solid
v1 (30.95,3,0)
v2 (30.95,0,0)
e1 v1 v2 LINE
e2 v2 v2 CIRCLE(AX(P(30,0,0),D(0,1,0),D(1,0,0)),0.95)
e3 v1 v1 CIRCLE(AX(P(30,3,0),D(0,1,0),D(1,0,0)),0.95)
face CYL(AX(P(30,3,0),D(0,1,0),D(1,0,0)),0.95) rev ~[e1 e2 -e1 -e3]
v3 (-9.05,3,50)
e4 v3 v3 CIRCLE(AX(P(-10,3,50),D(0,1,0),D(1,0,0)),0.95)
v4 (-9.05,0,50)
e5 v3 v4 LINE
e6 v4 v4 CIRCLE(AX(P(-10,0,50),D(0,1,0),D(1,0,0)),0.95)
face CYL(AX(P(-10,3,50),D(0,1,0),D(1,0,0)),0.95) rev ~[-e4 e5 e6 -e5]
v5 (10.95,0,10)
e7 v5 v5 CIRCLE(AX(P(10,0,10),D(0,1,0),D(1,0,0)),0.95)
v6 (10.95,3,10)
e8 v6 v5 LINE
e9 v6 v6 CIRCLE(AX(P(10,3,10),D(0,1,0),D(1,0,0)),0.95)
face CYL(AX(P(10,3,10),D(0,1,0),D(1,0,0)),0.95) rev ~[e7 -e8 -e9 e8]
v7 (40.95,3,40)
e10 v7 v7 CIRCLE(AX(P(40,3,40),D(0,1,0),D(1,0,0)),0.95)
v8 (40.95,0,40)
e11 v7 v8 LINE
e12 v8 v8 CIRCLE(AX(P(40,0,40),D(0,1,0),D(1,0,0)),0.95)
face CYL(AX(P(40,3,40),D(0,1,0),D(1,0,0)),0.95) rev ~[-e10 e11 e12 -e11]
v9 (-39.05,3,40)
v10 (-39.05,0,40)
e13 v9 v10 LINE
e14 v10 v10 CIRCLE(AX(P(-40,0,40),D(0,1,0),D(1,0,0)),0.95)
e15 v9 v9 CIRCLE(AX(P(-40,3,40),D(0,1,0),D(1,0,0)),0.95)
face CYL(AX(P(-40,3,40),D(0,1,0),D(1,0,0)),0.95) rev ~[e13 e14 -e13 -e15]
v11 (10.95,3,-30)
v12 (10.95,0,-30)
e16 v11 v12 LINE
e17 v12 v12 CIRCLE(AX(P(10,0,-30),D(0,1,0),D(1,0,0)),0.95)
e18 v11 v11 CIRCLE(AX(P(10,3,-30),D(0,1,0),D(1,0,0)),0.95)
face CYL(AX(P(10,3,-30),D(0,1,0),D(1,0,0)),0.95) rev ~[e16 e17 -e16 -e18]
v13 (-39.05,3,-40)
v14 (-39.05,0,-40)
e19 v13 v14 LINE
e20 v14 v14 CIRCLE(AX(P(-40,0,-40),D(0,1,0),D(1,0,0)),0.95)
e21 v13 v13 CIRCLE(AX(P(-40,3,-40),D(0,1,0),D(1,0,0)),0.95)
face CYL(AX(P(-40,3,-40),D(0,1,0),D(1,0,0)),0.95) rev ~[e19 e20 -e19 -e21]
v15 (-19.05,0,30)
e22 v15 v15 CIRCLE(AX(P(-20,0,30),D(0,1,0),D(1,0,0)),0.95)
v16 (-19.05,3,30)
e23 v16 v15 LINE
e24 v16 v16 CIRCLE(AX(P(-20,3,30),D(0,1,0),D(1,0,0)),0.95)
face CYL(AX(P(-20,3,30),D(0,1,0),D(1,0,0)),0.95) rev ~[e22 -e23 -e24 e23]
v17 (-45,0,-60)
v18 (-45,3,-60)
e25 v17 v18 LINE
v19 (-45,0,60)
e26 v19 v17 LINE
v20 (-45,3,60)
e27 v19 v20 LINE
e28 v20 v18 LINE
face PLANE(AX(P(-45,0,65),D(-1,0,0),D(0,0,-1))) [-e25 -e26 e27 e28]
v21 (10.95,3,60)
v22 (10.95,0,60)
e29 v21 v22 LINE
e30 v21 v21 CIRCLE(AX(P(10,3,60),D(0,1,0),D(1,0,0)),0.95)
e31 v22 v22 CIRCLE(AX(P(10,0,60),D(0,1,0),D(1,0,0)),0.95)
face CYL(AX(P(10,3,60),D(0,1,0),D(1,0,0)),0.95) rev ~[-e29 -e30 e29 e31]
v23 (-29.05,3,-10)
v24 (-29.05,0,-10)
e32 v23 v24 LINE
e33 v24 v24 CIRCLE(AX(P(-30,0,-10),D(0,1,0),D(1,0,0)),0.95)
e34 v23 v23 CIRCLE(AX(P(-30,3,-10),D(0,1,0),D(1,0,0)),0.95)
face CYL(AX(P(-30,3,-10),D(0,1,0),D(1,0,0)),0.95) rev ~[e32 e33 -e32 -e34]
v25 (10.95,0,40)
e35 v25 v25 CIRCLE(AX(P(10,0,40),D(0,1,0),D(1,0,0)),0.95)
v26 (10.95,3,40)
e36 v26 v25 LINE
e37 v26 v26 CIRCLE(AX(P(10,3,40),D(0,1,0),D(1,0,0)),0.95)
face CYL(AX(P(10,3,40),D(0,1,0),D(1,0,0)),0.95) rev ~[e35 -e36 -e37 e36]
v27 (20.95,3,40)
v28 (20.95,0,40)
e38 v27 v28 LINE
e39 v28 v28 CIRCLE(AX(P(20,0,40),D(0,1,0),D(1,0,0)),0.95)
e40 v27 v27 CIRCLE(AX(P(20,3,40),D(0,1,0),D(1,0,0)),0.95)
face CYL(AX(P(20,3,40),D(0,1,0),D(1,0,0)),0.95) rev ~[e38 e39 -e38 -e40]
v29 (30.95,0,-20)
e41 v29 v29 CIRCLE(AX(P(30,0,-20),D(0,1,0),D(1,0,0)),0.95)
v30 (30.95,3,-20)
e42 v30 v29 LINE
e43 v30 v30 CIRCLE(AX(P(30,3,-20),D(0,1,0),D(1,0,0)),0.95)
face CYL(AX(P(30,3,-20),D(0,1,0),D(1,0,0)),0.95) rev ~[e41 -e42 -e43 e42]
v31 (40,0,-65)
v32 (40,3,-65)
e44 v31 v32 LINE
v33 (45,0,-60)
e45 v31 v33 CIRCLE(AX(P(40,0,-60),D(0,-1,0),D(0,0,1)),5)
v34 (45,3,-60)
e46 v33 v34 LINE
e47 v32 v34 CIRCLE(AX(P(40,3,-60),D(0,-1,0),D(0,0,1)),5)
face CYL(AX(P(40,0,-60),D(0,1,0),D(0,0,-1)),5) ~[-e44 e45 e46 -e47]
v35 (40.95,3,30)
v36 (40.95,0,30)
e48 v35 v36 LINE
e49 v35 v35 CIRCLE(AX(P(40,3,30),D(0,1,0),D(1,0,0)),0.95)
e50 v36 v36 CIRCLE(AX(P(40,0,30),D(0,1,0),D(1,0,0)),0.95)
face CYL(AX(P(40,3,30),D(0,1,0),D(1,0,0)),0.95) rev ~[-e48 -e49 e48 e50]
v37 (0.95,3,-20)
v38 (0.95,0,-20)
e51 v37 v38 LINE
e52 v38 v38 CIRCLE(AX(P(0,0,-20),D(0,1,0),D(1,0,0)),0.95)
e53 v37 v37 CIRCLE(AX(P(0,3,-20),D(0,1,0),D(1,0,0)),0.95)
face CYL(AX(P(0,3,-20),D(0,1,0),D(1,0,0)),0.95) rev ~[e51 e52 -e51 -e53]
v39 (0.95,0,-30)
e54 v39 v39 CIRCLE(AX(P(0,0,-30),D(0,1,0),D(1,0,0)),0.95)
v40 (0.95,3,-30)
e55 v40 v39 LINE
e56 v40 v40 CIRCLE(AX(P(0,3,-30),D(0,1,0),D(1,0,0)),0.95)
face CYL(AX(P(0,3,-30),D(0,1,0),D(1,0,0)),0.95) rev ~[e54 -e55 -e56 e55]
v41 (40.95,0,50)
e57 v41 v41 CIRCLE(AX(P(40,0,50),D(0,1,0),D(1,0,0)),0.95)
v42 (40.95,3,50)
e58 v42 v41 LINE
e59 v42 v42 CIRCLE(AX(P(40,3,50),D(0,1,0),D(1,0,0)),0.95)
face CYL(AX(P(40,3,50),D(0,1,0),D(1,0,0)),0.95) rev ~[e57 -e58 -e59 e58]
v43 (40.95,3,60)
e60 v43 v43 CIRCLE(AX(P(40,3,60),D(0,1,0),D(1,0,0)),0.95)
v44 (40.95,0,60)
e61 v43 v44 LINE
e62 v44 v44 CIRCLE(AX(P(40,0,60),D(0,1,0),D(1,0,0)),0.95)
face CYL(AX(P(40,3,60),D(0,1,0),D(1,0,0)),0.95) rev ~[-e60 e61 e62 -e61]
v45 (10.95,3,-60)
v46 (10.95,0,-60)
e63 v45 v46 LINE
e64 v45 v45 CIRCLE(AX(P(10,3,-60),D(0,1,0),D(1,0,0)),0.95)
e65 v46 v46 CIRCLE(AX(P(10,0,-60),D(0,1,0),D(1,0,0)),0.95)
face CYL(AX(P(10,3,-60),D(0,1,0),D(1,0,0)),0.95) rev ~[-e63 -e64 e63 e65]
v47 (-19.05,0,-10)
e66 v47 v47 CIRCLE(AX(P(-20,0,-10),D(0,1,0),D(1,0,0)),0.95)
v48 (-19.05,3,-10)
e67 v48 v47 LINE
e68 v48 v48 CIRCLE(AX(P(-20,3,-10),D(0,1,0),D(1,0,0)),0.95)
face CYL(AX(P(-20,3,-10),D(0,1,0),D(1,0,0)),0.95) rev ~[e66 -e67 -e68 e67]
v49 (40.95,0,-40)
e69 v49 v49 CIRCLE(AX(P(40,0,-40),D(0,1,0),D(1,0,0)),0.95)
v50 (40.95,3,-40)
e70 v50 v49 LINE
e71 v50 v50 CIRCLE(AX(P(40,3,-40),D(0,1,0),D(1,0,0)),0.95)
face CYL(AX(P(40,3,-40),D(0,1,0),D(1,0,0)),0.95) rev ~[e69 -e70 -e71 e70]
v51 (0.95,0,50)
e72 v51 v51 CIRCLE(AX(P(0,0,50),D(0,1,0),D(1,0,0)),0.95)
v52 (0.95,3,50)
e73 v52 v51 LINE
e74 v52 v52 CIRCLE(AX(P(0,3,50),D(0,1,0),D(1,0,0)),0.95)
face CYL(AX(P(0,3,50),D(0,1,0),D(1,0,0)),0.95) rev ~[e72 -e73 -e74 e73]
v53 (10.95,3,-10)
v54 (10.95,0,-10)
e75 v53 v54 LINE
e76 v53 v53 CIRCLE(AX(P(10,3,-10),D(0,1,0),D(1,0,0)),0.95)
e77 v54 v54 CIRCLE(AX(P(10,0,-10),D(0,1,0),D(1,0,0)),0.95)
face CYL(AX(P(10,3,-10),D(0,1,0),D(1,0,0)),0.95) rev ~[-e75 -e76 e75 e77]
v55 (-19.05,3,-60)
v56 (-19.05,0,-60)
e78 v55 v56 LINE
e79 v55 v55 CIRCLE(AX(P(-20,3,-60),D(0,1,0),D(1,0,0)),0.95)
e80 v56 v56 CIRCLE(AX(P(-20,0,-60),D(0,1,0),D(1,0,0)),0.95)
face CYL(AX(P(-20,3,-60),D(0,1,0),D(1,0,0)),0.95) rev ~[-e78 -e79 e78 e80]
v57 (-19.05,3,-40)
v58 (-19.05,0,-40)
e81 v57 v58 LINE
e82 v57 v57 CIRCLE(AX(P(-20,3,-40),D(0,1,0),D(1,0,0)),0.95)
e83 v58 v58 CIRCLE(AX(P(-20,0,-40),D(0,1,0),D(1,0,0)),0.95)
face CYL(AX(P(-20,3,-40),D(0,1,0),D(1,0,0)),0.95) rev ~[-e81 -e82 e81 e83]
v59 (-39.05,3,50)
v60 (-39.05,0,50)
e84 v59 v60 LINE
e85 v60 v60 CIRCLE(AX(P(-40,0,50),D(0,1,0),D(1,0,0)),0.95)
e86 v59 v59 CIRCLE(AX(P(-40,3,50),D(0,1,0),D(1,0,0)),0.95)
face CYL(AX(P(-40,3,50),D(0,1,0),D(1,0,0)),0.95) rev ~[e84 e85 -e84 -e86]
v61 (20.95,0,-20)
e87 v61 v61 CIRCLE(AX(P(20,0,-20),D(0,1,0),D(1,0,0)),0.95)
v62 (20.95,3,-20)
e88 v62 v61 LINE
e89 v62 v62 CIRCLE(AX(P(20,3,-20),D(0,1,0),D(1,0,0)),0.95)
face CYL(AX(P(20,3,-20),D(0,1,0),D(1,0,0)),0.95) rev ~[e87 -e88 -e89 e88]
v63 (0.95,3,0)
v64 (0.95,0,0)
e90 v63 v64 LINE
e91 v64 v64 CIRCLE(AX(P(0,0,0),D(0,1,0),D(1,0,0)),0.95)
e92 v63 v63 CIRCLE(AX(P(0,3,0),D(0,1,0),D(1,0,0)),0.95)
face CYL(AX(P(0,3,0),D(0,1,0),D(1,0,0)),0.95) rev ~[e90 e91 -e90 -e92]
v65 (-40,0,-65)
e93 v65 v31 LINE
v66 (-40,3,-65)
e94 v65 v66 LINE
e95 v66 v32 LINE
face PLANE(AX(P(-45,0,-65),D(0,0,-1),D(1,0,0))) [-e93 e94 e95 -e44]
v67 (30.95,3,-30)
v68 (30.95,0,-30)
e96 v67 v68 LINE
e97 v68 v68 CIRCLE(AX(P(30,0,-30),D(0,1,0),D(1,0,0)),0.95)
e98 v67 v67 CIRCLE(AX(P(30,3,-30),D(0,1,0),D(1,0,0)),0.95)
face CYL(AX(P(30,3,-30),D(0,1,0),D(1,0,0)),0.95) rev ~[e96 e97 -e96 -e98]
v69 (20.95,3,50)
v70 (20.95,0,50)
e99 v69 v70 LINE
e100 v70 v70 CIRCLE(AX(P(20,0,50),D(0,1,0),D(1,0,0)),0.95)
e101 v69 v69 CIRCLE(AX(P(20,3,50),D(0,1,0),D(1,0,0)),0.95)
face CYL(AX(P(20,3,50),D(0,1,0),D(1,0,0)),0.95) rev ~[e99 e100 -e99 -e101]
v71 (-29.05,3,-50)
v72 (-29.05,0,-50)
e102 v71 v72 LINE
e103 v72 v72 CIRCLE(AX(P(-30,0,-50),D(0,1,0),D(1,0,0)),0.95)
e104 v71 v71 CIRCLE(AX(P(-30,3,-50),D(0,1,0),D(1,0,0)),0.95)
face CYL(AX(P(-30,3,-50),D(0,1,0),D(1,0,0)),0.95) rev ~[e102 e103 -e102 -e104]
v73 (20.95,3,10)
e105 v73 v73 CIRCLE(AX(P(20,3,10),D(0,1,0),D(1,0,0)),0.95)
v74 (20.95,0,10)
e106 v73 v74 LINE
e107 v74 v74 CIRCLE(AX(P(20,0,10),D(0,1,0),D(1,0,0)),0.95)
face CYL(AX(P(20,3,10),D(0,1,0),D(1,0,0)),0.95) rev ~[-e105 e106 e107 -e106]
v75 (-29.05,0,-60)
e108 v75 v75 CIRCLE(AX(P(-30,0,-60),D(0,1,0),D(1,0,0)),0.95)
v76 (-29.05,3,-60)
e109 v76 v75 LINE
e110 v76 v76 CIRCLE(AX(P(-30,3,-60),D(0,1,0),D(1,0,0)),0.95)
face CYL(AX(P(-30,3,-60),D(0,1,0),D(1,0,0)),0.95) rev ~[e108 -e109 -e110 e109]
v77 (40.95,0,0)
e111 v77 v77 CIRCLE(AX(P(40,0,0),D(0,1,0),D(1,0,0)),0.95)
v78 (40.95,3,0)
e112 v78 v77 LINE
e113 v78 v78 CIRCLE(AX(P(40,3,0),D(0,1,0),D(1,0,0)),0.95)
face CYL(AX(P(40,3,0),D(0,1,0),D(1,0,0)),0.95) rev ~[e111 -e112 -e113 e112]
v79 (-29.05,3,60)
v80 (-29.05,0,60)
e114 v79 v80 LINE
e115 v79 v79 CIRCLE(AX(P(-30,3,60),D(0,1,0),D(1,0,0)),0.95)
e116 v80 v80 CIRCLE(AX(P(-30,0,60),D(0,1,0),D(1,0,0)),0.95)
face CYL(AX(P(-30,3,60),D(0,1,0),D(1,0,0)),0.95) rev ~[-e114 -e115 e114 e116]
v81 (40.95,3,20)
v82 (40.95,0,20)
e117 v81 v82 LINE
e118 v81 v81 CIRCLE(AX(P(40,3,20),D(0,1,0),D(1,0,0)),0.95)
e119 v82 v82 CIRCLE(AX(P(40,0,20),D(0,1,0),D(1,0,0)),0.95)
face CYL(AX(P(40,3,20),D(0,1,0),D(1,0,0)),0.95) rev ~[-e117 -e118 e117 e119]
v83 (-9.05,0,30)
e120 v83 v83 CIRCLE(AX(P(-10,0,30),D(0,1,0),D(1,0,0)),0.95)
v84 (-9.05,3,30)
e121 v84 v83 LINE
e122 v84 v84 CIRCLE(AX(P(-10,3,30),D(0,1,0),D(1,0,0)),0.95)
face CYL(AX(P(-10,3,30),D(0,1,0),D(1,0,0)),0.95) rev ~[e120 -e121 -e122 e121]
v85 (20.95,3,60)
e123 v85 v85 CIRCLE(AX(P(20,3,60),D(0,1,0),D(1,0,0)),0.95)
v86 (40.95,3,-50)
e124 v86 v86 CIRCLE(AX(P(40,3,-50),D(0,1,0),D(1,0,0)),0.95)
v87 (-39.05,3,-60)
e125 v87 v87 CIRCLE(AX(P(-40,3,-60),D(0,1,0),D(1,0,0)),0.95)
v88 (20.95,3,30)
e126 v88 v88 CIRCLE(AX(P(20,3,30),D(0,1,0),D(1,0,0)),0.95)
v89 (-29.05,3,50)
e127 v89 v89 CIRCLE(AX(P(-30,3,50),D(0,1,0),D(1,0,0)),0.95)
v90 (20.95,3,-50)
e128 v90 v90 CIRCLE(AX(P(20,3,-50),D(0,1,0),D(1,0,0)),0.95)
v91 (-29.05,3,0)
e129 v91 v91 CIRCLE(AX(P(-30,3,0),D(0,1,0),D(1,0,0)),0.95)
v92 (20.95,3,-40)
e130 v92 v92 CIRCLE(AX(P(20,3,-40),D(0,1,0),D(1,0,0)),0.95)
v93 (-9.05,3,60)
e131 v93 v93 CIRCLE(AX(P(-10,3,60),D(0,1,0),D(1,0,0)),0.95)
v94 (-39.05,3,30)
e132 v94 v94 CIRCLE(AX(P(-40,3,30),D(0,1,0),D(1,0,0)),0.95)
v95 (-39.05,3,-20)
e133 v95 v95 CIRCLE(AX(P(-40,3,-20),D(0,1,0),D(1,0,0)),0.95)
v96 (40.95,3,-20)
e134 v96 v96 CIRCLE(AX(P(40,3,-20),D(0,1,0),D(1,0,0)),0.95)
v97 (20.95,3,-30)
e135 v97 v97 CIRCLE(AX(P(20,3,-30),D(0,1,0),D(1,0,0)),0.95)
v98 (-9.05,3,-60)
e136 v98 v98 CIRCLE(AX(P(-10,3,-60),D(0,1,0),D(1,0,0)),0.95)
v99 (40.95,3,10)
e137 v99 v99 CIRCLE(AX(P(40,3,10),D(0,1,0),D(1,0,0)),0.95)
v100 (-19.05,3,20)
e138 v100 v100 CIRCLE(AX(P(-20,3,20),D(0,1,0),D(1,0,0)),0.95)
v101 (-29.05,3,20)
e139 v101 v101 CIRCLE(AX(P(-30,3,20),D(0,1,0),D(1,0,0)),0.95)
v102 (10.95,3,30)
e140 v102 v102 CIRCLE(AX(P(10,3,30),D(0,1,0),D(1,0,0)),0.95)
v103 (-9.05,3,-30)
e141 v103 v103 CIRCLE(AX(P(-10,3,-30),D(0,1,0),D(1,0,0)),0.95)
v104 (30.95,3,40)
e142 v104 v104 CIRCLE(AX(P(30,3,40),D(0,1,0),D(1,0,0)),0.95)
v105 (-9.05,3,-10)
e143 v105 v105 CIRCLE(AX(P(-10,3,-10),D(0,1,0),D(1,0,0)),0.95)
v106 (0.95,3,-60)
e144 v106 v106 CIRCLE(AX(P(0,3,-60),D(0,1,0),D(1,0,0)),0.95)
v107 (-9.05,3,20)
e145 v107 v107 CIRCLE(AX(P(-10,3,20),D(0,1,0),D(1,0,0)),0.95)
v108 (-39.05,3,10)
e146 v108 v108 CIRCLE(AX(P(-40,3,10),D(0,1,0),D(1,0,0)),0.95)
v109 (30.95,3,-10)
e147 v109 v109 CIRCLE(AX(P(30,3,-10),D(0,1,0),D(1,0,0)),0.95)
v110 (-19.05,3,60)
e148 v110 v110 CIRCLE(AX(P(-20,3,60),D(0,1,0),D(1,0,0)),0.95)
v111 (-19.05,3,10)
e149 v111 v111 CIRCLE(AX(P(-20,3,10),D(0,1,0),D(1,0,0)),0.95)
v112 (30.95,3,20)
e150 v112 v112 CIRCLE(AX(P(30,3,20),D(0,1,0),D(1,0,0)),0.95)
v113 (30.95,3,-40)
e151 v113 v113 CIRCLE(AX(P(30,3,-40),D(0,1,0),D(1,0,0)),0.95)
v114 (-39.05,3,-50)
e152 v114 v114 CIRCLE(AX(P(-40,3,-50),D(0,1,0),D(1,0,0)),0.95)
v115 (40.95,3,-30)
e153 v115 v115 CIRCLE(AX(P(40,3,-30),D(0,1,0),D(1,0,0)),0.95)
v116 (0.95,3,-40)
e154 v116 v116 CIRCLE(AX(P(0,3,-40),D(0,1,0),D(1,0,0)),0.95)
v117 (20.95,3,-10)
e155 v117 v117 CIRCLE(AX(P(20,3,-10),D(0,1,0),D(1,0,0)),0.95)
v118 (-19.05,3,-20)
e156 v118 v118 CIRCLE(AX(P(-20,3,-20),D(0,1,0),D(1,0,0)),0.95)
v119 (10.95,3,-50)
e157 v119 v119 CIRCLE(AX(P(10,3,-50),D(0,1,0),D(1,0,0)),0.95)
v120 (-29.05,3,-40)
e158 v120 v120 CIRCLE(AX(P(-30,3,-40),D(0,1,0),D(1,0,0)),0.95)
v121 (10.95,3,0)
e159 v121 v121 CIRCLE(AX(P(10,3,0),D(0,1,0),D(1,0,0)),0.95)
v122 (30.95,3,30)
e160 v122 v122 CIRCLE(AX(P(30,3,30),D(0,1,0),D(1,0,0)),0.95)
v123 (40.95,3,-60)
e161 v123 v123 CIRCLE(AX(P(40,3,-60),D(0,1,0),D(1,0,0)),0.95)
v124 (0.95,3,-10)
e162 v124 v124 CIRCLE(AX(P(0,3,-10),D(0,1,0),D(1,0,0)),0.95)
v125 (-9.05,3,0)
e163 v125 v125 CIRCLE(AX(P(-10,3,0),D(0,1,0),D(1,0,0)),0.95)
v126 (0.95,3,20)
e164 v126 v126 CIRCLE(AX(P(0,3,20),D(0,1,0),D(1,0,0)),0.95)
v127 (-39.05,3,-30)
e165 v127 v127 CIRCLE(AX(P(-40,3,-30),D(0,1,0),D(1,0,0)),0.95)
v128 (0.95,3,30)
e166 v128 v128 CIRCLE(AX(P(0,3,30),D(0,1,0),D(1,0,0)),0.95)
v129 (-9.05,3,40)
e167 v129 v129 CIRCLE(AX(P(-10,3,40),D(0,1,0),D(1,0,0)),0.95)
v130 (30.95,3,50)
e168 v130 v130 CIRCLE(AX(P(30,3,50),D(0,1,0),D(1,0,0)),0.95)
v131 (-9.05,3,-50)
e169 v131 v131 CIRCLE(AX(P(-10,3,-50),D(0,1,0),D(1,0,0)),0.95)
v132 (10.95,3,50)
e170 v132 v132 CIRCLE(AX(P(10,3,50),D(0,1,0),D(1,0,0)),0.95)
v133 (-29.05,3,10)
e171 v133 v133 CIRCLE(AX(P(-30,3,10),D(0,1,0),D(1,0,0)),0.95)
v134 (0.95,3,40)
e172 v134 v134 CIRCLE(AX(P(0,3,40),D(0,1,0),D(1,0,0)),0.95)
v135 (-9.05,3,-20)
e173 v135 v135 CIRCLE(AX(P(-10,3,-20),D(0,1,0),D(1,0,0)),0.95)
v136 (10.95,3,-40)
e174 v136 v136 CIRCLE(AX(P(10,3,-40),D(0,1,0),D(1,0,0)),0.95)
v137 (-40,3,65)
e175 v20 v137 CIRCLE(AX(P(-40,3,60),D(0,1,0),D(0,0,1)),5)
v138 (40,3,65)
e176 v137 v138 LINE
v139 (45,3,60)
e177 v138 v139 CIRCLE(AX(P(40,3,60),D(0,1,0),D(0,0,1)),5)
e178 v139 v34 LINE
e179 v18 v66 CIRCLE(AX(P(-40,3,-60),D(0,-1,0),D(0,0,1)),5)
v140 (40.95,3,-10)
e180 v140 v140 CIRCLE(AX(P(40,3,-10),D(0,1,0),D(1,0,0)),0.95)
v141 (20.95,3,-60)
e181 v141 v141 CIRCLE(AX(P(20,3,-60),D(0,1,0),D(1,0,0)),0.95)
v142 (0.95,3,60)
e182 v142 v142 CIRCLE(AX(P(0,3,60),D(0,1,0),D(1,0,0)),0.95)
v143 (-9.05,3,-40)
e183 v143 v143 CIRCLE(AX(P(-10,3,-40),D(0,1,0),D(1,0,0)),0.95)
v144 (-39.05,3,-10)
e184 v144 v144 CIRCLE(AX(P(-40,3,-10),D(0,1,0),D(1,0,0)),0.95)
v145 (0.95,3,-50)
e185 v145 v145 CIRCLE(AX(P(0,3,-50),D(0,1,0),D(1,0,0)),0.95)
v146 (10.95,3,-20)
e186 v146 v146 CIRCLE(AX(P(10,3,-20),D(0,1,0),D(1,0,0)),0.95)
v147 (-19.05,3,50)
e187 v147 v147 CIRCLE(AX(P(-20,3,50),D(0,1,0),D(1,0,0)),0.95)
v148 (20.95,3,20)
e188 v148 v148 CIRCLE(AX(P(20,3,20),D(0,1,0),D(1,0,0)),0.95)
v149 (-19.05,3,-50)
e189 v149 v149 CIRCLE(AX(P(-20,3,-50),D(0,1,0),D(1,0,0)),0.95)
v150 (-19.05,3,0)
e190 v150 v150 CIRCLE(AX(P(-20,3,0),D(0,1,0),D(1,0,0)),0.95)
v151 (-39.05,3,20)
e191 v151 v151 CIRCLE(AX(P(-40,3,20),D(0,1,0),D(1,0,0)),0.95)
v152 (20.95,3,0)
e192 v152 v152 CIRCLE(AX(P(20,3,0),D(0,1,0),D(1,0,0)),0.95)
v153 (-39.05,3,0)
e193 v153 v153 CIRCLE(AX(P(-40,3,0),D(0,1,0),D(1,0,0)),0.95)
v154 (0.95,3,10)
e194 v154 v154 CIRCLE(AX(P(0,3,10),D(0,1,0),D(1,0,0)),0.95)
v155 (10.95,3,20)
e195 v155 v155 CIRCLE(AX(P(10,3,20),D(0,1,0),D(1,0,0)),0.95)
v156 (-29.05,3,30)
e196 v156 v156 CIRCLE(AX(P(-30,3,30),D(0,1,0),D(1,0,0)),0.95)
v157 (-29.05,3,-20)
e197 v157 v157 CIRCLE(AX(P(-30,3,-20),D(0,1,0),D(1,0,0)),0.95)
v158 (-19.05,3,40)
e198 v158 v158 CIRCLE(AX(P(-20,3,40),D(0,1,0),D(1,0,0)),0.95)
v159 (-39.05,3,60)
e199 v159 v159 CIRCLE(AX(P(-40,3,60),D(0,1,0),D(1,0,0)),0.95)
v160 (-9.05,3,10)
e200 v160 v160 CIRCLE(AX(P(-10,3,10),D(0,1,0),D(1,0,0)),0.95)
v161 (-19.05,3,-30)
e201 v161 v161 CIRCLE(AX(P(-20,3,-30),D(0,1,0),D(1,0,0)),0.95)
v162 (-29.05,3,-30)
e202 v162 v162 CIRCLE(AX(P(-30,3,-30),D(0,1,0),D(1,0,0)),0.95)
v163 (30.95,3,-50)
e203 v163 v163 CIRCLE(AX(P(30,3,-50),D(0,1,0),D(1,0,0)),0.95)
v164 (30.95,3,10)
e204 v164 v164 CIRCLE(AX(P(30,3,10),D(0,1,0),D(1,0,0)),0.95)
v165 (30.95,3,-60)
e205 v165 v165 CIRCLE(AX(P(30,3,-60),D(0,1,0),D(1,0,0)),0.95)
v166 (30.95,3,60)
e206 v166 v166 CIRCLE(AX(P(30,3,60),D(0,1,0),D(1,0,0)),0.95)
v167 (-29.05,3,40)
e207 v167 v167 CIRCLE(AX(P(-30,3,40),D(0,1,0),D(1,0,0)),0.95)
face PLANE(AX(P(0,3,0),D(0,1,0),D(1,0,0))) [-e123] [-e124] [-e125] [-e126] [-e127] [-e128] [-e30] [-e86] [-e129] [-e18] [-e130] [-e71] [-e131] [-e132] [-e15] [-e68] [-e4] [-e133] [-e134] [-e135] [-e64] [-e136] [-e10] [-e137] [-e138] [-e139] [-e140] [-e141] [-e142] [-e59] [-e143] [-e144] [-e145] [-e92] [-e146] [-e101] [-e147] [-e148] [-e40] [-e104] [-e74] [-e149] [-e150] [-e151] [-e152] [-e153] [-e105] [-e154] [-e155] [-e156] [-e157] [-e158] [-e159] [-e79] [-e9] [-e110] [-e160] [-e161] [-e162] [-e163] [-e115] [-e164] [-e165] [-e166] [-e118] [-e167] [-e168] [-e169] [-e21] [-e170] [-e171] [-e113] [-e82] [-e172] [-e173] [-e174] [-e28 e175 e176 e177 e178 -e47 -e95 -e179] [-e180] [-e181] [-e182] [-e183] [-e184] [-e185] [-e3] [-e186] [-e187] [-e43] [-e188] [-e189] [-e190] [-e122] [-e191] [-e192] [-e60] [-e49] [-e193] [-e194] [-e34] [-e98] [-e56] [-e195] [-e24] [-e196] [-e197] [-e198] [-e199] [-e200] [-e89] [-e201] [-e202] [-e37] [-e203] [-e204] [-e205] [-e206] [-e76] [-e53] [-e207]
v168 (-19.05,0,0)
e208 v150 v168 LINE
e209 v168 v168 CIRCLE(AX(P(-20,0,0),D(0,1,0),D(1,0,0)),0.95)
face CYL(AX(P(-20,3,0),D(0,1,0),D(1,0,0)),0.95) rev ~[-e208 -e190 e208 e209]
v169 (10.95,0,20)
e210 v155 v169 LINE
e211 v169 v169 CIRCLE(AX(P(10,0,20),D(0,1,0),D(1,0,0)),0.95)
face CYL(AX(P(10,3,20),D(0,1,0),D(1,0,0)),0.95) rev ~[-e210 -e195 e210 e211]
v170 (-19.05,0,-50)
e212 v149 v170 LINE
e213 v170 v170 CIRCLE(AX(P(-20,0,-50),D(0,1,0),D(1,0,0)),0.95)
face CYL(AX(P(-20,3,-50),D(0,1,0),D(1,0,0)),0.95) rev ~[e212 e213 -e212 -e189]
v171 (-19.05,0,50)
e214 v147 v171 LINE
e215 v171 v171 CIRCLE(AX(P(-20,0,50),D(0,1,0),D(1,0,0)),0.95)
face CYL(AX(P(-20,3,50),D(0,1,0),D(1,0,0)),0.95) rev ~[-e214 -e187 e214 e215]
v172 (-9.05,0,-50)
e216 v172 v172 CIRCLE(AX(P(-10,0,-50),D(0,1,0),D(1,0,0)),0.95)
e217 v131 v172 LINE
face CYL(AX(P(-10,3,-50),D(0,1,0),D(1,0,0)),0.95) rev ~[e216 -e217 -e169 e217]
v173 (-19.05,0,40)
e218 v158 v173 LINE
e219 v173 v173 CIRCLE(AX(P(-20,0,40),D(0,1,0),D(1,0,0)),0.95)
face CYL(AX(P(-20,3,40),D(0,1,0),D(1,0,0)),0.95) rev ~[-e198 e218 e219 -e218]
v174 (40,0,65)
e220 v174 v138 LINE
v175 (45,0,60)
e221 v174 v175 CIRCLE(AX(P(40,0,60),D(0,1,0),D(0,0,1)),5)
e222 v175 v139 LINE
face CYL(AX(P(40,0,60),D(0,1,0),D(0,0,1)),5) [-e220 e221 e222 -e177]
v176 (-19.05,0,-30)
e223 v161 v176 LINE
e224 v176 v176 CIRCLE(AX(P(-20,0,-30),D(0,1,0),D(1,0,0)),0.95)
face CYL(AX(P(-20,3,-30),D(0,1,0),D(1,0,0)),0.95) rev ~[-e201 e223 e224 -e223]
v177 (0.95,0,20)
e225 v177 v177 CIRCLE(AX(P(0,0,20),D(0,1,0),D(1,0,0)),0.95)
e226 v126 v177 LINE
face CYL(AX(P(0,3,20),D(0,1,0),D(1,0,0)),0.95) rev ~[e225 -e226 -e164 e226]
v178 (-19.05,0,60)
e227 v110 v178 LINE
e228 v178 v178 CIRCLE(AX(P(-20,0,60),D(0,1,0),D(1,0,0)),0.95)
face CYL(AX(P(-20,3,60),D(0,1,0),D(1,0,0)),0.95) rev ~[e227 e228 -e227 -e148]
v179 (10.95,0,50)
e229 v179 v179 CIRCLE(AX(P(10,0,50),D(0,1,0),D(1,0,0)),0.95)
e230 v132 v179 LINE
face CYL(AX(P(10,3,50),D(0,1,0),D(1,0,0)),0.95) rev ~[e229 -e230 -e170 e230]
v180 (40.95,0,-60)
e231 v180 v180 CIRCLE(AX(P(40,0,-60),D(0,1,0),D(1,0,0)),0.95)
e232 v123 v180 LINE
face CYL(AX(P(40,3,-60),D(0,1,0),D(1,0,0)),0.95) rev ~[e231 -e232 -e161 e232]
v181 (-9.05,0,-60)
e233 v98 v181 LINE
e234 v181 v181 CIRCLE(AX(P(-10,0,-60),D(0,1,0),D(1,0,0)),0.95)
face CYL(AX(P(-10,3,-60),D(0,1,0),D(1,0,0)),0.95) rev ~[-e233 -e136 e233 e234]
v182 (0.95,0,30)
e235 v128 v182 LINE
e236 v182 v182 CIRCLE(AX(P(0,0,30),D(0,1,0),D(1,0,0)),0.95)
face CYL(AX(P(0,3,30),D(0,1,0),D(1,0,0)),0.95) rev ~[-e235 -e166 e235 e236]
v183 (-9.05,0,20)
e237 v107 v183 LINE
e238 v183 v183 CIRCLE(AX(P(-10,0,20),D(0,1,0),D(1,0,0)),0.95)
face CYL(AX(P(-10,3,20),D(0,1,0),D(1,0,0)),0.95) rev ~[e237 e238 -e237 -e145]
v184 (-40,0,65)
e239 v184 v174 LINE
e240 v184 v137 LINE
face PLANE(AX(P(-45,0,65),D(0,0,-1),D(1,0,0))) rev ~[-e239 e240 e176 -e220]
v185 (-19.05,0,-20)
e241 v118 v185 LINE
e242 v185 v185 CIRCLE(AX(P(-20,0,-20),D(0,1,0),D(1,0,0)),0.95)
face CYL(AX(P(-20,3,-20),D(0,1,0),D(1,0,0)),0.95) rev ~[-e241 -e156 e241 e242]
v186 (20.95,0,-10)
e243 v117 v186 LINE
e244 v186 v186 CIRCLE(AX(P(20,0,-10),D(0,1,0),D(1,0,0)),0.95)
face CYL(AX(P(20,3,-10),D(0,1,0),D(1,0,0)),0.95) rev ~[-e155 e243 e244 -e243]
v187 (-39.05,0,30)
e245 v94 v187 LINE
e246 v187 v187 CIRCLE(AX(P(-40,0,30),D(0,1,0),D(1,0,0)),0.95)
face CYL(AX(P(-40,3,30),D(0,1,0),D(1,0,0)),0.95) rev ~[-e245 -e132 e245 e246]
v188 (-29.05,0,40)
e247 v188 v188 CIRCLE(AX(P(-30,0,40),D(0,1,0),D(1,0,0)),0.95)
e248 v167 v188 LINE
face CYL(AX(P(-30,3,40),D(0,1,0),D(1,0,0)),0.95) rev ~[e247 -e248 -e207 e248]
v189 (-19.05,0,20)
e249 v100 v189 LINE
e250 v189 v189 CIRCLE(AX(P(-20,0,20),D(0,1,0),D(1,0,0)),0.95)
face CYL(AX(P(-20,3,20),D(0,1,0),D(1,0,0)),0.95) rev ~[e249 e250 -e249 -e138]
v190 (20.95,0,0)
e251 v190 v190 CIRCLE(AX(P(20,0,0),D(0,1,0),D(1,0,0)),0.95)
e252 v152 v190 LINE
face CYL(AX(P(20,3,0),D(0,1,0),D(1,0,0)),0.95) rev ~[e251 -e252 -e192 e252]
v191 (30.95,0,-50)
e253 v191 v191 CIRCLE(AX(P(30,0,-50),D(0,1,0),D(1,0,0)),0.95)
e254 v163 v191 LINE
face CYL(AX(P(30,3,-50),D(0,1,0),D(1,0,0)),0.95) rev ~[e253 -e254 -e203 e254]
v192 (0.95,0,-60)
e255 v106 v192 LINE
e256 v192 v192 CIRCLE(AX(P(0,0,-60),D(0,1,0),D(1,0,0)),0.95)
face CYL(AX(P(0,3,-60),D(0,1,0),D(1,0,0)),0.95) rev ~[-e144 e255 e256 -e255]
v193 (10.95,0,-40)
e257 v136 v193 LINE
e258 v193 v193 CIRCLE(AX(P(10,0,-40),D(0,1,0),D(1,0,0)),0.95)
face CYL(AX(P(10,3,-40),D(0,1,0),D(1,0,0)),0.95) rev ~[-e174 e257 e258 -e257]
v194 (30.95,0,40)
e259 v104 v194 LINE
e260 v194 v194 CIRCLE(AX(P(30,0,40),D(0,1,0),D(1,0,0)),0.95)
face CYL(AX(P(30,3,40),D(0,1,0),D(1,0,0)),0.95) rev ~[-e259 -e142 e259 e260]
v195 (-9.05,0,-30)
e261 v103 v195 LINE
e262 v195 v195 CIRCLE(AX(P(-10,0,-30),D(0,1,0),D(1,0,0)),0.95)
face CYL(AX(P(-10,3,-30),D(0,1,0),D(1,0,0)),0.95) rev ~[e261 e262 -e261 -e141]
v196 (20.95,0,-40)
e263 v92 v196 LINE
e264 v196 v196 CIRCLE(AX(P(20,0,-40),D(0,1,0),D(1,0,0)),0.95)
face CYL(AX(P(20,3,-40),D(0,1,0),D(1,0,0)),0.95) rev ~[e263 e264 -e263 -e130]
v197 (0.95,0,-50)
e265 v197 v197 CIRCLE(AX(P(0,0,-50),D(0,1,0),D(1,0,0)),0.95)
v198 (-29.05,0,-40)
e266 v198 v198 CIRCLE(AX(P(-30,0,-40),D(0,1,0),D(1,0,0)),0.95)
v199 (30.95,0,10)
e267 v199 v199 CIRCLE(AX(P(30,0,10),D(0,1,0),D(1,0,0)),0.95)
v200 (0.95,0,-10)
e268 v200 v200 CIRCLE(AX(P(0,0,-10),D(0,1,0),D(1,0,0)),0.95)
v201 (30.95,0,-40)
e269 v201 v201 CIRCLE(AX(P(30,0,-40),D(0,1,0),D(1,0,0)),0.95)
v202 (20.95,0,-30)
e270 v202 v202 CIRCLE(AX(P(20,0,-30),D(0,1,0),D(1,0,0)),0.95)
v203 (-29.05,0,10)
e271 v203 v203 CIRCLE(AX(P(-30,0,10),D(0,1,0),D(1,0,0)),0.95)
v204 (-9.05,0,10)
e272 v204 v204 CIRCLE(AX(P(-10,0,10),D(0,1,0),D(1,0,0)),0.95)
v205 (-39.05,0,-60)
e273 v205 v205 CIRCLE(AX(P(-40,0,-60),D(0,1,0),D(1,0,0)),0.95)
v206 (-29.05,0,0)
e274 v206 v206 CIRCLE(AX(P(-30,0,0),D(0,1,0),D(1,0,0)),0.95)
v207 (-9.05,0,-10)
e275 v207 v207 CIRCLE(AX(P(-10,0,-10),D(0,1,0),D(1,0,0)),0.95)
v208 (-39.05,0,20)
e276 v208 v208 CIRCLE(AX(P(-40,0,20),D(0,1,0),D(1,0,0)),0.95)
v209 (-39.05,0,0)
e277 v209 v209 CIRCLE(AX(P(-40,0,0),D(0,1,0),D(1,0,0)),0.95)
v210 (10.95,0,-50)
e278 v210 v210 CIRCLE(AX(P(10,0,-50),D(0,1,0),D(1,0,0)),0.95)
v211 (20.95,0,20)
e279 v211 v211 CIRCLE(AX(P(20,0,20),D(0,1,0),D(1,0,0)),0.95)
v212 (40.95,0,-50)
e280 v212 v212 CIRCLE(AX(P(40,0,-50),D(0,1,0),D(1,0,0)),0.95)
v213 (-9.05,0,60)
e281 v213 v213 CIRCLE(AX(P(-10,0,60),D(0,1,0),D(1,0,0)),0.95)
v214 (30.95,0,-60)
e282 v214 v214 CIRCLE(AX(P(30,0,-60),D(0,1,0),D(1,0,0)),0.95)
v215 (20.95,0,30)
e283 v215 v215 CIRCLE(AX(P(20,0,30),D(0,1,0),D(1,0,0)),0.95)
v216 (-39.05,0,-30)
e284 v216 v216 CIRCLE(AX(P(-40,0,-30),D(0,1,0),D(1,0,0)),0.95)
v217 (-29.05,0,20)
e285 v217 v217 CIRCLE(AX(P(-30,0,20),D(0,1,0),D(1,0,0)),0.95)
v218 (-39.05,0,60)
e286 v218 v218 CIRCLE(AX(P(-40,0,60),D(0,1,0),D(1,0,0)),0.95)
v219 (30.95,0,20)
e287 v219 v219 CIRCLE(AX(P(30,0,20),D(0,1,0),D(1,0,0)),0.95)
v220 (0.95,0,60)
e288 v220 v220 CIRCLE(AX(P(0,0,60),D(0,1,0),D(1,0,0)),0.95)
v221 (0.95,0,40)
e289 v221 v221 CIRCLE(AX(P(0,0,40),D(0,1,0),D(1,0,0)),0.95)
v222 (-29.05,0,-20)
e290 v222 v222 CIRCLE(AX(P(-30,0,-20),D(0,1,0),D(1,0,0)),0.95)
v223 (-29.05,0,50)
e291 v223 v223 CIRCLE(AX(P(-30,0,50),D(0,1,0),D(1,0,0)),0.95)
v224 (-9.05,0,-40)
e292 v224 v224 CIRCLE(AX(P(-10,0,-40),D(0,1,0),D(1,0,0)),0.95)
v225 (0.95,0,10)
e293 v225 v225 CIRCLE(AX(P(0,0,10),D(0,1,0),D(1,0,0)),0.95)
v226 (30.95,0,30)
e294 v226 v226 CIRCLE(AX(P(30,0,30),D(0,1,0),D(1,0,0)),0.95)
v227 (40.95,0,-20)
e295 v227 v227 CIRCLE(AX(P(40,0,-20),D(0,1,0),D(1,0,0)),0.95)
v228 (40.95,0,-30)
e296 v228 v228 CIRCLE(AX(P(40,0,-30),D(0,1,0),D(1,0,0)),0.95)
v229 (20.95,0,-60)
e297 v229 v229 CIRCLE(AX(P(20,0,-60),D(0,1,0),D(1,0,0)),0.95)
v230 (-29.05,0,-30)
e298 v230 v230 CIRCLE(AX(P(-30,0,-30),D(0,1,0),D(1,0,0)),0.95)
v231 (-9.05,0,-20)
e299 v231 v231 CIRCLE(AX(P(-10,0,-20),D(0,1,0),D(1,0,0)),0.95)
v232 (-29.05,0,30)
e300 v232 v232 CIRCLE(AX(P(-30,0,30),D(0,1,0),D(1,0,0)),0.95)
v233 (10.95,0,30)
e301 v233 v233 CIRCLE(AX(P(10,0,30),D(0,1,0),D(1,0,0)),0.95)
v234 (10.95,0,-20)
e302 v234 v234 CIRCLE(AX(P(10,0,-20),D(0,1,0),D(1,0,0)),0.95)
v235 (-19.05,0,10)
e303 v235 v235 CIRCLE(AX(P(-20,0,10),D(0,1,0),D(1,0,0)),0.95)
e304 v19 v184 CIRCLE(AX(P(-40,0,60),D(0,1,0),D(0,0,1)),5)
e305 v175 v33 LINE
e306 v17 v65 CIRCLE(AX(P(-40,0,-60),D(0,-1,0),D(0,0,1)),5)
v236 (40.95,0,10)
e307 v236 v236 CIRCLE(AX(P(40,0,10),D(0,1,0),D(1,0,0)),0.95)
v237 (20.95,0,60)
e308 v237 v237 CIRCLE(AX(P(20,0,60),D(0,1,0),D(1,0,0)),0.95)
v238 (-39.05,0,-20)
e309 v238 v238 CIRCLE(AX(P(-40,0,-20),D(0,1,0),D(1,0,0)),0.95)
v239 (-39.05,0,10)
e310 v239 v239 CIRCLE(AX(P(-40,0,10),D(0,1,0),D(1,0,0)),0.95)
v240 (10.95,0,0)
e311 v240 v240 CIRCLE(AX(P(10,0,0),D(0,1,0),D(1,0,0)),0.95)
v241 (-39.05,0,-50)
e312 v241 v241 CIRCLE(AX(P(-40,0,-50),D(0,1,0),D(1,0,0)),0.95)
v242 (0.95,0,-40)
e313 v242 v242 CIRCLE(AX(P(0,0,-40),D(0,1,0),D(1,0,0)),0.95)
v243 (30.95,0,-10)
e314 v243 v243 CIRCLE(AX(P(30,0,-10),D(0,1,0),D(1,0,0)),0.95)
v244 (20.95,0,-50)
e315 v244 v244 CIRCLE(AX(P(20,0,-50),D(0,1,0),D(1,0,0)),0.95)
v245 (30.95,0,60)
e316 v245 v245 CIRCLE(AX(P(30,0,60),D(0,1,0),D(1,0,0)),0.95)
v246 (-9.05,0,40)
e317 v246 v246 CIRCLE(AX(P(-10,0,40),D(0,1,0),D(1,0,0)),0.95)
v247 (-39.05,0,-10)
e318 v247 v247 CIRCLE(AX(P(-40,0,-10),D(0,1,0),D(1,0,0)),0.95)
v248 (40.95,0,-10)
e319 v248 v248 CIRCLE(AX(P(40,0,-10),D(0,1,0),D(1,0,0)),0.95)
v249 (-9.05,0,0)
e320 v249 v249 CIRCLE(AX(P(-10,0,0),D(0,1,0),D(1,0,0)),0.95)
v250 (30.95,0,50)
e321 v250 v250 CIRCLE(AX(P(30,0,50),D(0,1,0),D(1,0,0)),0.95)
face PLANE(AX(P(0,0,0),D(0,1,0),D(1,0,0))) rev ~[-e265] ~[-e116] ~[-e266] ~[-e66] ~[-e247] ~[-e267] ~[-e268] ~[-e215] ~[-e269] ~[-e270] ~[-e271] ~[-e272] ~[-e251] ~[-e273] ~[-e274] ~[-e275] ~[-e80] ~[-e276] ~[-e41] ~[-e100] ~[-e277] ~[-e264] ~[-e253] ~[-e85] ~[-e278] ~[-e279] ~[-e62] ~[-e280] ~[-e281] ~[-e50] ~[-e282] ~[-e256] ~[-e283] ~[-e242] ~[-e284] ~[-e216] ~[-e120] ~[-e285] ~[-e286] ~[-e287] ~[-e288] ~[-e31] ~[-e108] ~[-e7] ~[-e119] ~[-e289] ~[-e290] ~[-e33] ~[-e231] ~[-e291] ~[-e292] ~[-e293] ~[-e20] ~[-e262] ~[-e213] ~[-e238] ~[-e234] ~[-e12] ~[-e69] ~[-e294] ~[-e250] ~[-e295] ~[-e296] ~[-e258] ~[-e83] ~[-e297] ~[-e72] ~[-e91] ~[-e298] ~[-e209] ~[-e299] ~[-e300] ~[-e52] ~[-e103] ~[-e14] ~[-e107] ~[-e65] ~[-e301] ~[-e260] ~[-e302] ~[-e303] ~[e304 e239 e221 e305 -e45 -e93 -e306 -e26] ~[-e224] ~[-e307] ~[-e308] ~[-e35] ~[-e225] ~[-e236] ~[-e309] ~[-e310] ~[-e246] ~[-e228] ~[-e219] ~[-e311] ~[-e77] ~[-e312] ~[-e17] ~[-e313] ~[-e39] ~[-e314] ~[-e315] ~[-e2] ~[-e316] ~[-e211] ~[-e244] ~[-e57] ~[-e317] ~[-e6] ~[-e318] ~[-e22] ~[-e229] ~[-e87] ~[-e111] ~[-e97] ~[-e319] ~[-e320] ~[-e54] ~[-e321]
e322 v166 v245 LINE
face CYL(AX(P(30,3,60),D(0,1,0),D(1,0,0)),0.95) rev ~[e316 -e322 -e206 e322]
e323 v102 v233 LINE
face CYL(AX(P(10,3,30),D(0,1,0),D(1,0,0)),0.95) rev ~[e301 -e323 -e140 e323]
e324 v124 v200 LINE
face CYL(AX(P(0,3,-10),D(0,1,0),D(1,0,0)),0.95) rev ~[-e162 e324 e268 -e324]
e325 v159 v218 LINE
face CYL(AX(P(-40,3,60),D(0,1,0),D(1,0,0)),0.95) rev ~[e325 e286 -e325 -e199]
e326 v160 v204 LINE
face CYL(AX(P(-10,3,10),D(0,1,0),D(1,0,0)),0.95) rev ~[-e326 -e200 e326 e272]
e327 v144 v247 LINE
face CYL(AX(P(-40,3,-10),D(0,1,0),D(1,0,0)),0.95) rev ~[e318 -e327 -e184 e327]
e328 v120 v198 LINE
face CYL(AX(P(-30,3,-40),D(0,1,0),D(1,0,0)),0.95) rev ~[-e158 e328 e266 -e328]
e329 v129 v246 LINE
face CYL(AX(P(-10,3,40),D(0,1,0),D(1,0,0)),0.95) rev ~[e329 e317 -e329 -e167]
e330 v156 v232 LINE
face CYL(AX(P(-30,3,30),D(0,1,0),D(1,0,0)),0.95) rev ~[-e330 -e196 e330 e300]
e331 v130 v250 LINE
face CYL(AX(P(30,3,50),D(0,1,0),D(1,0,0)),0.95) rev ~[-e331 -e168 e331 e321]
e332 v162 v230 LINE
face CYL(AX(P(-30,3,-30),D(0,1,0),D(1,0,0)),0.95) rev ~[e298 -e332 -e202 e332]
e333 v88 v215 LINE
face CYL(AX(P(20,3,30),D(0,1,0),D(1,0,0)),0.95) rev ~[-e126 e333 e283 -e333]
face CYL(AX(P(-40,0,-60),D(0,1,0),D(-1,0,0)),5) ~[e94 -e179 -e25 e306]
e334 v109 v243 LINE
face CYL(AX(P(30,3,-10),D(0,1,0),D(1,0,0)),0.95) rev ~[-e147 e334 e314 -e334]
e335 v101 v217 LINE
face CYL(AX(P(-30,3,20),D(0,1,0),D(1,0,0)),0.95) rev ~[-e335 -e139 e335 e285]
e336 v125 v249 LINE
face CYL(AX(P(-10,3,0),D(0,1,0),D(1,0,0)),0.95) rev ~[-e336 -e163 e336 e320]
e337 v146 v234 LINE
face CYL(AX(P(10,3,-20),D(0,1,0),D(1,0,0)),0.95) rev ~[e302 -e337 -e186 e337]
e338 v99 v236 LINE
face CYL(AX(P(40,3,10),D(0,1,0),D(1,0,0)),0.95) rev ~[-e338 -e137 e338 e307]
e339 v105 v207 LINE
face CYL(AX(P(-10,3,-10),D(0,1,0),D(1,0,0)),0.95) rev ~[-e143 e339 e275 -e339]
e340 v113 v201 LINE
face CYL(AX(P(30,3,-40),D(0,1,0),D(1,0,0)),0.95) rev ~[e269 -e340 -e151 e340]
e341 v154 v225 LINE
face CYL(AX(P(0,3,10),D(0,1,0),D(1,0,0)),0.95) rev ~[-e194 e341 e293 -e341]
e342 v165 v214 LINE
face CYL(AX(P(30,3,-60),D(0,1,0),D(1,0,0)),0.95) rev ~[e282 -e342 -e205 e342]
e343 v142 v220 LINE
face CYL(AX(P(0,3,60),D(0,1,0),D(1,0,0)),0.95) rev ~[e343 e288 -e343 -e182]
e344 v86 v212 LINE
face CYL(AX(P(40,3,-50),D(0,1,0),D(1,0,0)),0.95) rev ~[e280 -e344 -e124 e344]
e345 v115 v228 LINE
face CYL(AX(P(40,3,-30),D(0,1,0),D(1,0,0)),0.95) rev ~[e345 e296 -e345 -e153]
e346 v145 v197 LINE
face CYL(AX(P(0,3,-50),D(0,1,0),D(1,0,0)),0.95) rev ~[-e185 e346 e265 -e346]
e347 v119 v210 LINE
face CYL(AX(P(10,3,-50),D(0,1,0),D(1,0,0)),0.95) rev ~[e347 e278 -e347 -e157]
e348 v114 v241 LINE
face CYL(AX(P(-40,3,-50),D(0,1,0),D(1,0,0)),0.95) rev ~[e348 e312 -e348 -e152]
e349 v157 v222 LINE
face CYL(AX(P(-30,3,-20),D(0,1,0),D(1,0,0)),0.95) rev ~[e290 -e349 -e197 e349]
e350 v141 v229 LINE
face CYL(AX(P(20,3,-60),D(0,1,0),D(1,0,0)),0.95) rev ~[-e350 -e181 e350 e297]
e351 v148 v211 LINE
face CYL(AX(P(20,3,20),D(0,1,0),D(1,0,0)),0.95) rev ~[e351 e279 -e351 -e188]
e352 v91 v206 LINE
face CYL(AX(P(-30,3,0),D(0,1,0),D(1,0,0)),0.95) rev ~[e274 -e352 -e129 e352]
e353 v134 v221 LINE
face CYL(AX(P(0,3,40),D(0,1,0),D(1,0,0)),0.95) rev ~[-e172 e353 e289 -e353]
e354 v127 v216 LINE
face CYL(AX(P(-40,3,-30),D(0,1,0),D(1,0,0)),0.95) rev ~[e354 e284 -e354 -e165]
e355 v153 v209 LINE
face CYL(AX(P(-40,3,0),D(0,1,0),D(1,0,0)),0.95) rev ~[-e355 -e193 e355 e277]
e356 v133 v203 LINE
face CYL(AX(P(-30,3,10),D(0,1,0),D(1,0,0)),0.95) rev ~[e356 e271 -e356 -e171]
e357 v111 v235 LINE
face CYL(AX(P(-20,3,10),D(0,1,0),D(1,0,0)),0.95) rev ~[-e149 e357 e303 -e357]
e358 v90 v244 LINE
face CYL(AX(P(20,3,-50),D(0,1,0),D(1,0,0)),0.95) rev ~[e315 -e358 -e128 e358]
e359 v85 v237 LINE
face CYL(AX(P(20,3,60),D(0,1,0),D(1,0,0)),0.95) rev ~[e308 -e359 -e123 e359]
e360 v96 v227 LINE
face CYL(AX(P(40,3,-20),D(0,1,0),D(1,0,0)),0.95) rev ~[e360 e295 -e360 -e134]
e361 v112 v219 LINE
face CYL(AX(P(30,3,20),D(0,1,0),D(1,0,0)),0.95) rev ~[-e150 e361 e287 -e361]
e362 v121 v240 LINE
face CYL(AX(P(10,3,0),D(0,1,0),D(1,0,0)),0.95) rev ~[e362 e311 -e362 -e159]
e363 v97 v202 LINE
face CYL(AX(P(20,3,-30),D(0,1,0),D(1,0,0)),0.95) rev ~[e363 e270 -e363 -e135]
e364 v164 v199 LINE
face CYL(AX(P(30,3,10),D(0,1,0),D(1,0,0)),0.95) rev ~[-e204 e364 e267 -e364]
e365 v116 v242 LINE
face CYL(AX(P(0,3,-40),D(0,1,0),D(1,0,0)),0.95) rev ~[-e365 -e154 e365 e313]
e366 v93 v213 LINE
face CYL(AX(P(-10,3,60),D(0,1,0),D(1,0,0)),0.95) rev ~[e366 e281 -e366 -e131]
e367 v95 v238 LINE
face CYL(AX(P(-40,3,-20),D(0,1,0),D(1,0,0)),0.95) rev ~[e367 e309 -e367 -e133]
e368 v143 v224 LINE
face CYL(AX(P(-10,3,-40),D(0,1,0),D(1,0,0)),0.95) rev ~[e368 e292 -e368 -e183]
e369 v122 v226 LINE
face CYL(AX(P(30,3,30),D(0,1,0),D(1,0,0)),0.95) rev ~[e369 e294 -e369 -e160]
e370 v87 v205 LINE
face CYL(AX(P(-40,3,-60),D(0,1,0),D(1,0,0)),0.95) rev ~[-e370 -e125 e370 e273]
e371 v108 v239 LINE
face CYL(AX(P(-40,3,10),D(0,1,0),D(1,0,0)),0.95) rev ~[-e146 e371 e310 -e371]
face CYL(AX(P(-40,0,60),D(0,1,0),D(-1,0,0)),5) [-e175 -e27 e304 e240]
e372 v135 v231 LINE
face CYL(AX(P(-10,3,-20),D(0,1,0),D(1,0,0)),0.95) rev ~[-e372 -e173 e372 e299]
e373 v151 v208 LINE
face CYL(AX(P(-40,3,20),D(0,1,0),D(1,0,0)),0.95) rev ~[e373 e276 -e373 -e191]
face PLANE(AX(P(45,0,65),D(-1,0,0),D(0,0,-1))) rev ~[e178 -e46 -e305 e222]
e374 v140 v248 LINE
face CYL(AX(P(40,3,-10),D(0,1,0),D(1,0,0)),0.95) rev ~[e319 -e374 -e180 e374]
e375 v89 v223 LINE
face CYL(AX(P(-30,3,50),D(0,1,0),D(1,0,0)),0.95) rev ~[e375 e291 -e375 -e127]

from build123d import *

# Parameters (mm, degrees)
SKETCH1_W           = 90
SKETCH1_H           = 130
BOSS_EXTRUDE1_DEPTH = 3
SKETCH2_R           = 0.95
CUT_EXTRUDE1_DEPTH  = 4
FILLET1_R           = 5


with BuildPart() as part:
    # Sketch1 → Boss-Extrude1 (new body)
    with BuildSketch(Plane(origin=(0, 0, 0), x_dir=(1, 0, 0), z_dir=(0, 1, 0))):
        Rectangle(SKETCH1_W, SKETCH1_H)
    extrude(amount=BOSS_EXTRUDE1_DEPTH)

    # Sketch2 → Cut-Extrude1 (cut, through all)
    with BuildSketch(Plane(origin=(0, 3, 0), x_dir=(1, 0, 0), z_dir=(0, 1, 0))):
        with Locations((-40, 60)):
            Circle(SKETCH2_R)
        with Locations((-30, 60)):
            Circle(SKETCH2_R)
        with Locations((-20, 60)):
            Circle(SKETCH2_R)
        with Locations((-10, 60)):
            Circle(SKETCH2_R)
        with Locations((0, 60)):
            Circle(SKETCH2_R)
        with Locations((10, 60)):
            Circle(SKETCH2_R)
        with Locations((20, 60)):
            Circle(SKETCH2_R)
        with Locations((-40, -40)):
            Circle(SKETCH2_R)
        with Locations((-40, -20)):
            Circle(SKETCH2_R)
        with Locations((-30, -20)):
            Circle(SKETCH2_R)
        with Locations((-30, 50)):
            Circle(SKETCH2_R)
        with Locations((-20, 50)):
            Circle(SKETCH2_R)
        with Locations((-10, 50)):
            Circle(SKETCH2_R)
        with Locations((0, 50)):
            Circle(SKETCH2_R)
        with Locations((10, 50)):
            Circle(SKETCH2_R)
        with Locations((20, 50)):
            Circle(SKETCH2_R)
        with Locations((-30, -40)):
            Circle(SKETCH2_R)
        with Locations((-20, -20)):
            Circle(SKETCH2_R)
        with Locations((-10, -20)):
            Circle(SKETCH2_R)
        with Locations((-30, 40)):
            Circle(SKETCH2_R)
        with Locations((-20, 40)):
            Circle(SKETCH2_R)
        with Locations((-10, 40)):
            Circle(SKETCH2_R)
        with Locations((0, 40)):
            Circle(SKETCH2_R)
        with Locations((10, 40)):
            Circle(SKETCH2_R)
        with Locations((20, 40)):
            Circle(SKETCH2_R)
        with Locations((-20, -40)):
            Circle(SKETCH2_R)
        with Locations((0, -20)):
            Circle(SKETCH2_R)
        with Locations((10, -20)):
            Circle(SKETCH2_R)
        with Locations((-30, 30)):
            Circle(SKETCH2_R)
        with Locations((-20, 30)):
            Circle(SKETCH2_R)
        with Locations((-10, 30)):
            Circle(SKETCH2_R)
        with Locations((0, 30)):
            Circle(SKETCH2_R)
        with Locations((10, 30)):
            Circle(SKETCH2_R)
        with Locations((20, 30)):
            Circle(SKETCH2_R)
        with Locations((-10, -40)):
            Circle(SKETCH2_R)
        with Locations((20, -20)):
            Circle(SKETCH2_R)
        with Locations((0, -40)):
            Circle(SKETCH2_R)
        with Locations((-40, 50)):
            Circle(SKETCH2_R)
        with Locations((-40, 40)):
            Circle(SKETCH2_R)
        with Locations((-40, 30)):
            Circle(SKETCH2_R)
        with Locations((-40, 20)):
            Circle(SKETCH2_R)
        with Locations((-30, 20)):
            Circle(SKETCH2_R)
        with Locations((-20, 20)):
            Circle(SKETCH2_R)
        with Locations((-10, 20)):
            Circle(SKETCH2_R)
        with Locations((0, 20)):
            Circle(SKETCH2_R)
        with Locations((10, 20)):
            Circle(SKETCH2_R)
        with Locations((20, 20)):
            Circle(SKETCH2_R)
        with Locations((10, -40)):
            Circle(SKETCH2_R)
        with Locations((-40, -30)):
            Circle(SKETCH2_R)
        with Locations((-30, -30)):
            Circle(SKETCH2_R)
        with Locations((-20, -30)):
            Circle(SKETCH2_R)
        with Locations((-10, -30)):
            Circle(SKETCH2_R)
        with Locations((0, -30)):
            Circle(SKETCH2_R)
        with Locations((10, -30)):
            Circle(SKETCH2_R)
        with Locations((20, -30)):
            Circle(SKETCH2_R)
        with Locations((20, -40)):
            Circle(SKETCH2_R)
        with Locations((-40, -50)):
            Circle(SKETCH2_R)
        with Locations((-30, -50)):
            Circle(SKETCH2_R)
        with Locations((-20, -50)):
            Circle(SKETCH2_R)
        with Locations((-10, -50)):
            Circle(SKETCH2_R)
        with Locations((0, -50)):
            Circle(SKETCH2_R)
        with Locations((10, -50)):
            Circle(SKETCH2_R)
        with Locations((20, -50)):
            Circle(SKETCH2_R)
        with Locations((-40, -60)):
            Circle(SKETCH2_R)
        with Locations((-30, -60)):
            Circle(SKETCH2_R)
        with Locations((-20, -60)):
            Circle(SKETCH2_R)
        with Locations((-10, -60)):
            Circle(SKETCH2_R)
        with Locations((0, -60)):
            Circle(SKETCH2_R)
        with Locations((10, -60)):
            Circle(SKETCH2_R)
        with Locations((20, -60)):
            Circle(SKETCH2_R)
        with Locations((30, 60)):
            Circle(SKETCH2_R)
        with Locations((30, 50)):
            Circle(SKETCH2_R)
        with Locations((30, 40)):
            Circle(SKETCH2_R)
        with Locations((30, 30)):
            Circle(SKETCH2_R)
        with Locations((30, 20)):
            Circle(SKETCH2_R)
        with Locations((30, 10)):
            Circle(SKETCH2_R)
        with Locations((30, 0)):
            Circle(SKETCH2_R)
        with Locations((30, -10)):
            Circle(SKETCH2_R)
        with Locations((30, -20)):
            Circle(SKETCH2_R)
        with Locations((30, -30)):
            Circle(SKETCH2_R)
        with Locations((30, -40)):
            Circle(SKETCH2_R)
        with Locations((30, -50)):
            Circle(SKETCH2_R)
        with Locations((30, -60)):
            Circle(SKETCH2_R)
        with Locations((40, 60)):
            Circle(SKETCH2_R)
        with Locations((40, 50)):
            Circle(SKETCH2_R)
        with Locations((40, 40)):
            Circle(SKETCH2_R)
        with Locations((-40, 10)):
            Circle(SKETCH2_R)
        with Locations((-30, 10)):
            Circle(SKETCH2_R)
        with Locations((-20, 10)):
            Circle(SKETCH2_R)
        with Locations((-10, 10)):
            Circle(SKETCH2_R)
        with Locations((0, 10)):
            Circle(SKETCH2_R)
        with Locations((40, 30)):
            Circle(SKETCH2_R)
        with Locations((40, 20)):
            Circle(SKETCH2_R)
        with Locations((40, 10)):
            Circle(SKETCH2_R)
        with Locations((40, 0)):
            Circle(SKETCH2_R)
        with Locations((10, 10)):
            Circle(SKETCH2_R)
        with Locations((20, 10)):
            Circle(SKETCH2_R)
        with Locations((40, -10)):
            Circle(SKETCH2_R)
        with Locations((40, -20)):
            Circle(SKETCH2_R)
        with Locations((40, -30)):
            Circle(SKETCH2_R)
        with Locations((40, -40)):
            Circle(SKETCH2_R)
        with Locations((40, -50)):
            Circle(SKETCH2_R)
        with Locations((40, -60)):
            Circle(SKETCH2_R)
        with Locations((-40, -70)):
            Circle(SKETCH2_R)
        with Locations((-30, -70)):
            Circle(SKETCH2_R)
        with Locations((-20, -70)):
            Circle(SKETCH2_R)
        with Locations((-10, -70)):
            Circle(SKETCH2_R)
        with Locations((0, -70)):
            Circle(SKETCH2_R)
        with Locations((-40, 0)):
            Circle(SKETCH2_R)
        with Locations((-30, 0)):
            Circle(SKETCH2_R)
        with Locations((-20, 0)):
            Circle(SKETCH2_R)
        with Locations((-10, 0)):
            Circle(SKETCH2_R)
        Circle(SKETCH2_R)
        with Locations((10, 0)):
            Circle(SKETCH2_R)
        with Locations((20, 0)):
            Circle(SKETCH2_R)
        with Locations((10, -70)):
            Circle(SKETCH2_R)
        with Locations((20, -70)):
            Circle(SKETCH2_R)
        with Locations((30, -70)):
            Circle(SKETCH2_R)
        with Locations((40, -70)):
            Circle(SKETCH2_R)
        with Locations((-40, -80)):
            Circle(SKETCH2_R)
        with Locations((-30, -80)):
            Circle(SKETCH2_R)
        with Locations((-20, -80)):
            Circle(SKETCH2_R)
        with Locations((-10, -80)):
            Circle(SKETCH2_R)
        with Locations((0, -80)):
            Circle(SKETCH2_R)
        with Locations((10, -80)):
            Circle(SKETCH2_R)
        with Locations((20, -80)):
            Circle(SKETCH2_R)
        with Locations((-40, -10)):
            Circle(SKETCH2_R)
        with Locations((-30, -10)):
            Circle(SKETCH2_R)
        with Locations((-20, -10)):
            Circle(SKETCH2_R)
        with Locations((-10, -10)):
            Circle(SKETCH2_R)
        with Locations((0, -10)):
            Circle(SKETCH2_R)
        with Locations((10, -10)):
            Circle(SKETCH2_R)
        with Locations((20, -10)):
            Circle(SKETCH2_R)
        with Locations((30, -80)):
            Circle(SKETCH2_R)
        with Locations((40, -80)):
            Circle(SKETCH2_R)
        with Locations((-40, -90)):
            Circle(SKETCH2_R)
        with Locations((-30, -90)):
            Circle(SKETCH2_R)
        with Locations((-20, -90)):
            Circle(SKETCH2_R)
        with Locations((-10, -90)):
            Circle(SKETCH2_R)
        with Locations((0, -90)):
            Circle(SKETCH2_R)
        with Locations((10, -90)):
            Circle(SKETCH2_R)
        with Locations((20, -90)):
            Circle(SKETCH2_R)
        with Locations((30, -90)):
            Circle(SKETCH2_R)
        with Locations((40, -90)):
            Circle(SKETCH2_R)
        with Locations((-40, -100)):
            Circle(SKETCH2_R)
        with Locations((-30, -100)):
            Circle(SKETCH2_R)
        with Locations((-20, -100)):
            Circle(SKETCH2_R)
        with Locations((-10, -100)):
            Circle(SKETCH2_R)
        with Locations((0, -100)):
            Circle(SKETCH2_R)
        with Locations((10, -100)):
            Circle(SKETCH2_R)
        with Locations((20, -100)):
            Circle(SKETCH2_R)
        with Locations((30, -100)):
            Circle(SKETCH2_R)
        with Locations((40, -100)):
            Circle(SKETCH2_R)
        with Locations((-40, -110)):
            Circle(SKETCH2_R)
        with Locations((-30, -110)):
            Circle(SKETCH2_R)
        with Locations((-20, -110)):
            Circle(SKETCH2_R)
        with Locations((-10, -110)):
            Circle(SKETCH2_R)
        with Locations((0, -110)):
            Circle(SKETCH2_R)
        with Locations((10, -110)):
            Circle(SKETCH2_R)
        with Locations((20, -110)):
            Circle(SKETCH2_R)
        with Locations((30, -110)):
            Circle(SKETCH2_R)
        with Locations((40, -110)):
            Circle(SKETCH2_R)
        with Locations((-40, -120)):
            Circle(SKETCH2_R)
        with Locations((-30, -120)):
            Circle(SKETCH2_R)
        with Locations((-20, -120)):
            Circle(SKETCH2_R)
        with Locations((-10, -120)):
            Circle(SKETCH2_R)
        with Locations((0, -120)):
            Circle(SKETCH2_R)
        with Locations((10, -120)):
            Circle(SKETCH2_R)
        with Locations((20, -120)):
            Circle(SKETCH2_R)
        with Locations((30, -120)):
            Circle(SKETCH2_R)
        with Locations((40, -120)):
            Circle(SKETCH2_R)
        with Locations((-40, -130)):
            Circle(SKETCH2_R)
        with Locations((-30, -130)):
            Circle(SKETCH2_R)
        with Locations((-20, -130)):
            Circle(SKETCH2_R)
        with Locations((-10, -130)):
            Circle(SKETCH2_R)
        with Locations((0, -130)):
            Circle(SKETCH2_R)
        with Locations((10, -130)):
            Circle(SKETCH2_R)
        with Locations((20, -130)):
            Circle(SKETCH2_R)
        with Locations((30, -130)):
            Circle(SKETCH2_R)
        with Locations((40, -130)):
            Circle(SKETCH2_R)
    extrude(amount=-CUT_EXTRUDE1_DEPTH, mode=Mode.SUBTRACT)

    # Fillet1
    fillet1_edges = [part.edges().sort_by_distance(p)[0] for p in [
        (45, 1.5, 65),
        (-45, 1.5, 65),
        (-45, 1.5, -65),
        (45, 1.5, -65),
    ]]
    fillet(fillet1_edges, radius=FILLET1_R)


solid = part.part
